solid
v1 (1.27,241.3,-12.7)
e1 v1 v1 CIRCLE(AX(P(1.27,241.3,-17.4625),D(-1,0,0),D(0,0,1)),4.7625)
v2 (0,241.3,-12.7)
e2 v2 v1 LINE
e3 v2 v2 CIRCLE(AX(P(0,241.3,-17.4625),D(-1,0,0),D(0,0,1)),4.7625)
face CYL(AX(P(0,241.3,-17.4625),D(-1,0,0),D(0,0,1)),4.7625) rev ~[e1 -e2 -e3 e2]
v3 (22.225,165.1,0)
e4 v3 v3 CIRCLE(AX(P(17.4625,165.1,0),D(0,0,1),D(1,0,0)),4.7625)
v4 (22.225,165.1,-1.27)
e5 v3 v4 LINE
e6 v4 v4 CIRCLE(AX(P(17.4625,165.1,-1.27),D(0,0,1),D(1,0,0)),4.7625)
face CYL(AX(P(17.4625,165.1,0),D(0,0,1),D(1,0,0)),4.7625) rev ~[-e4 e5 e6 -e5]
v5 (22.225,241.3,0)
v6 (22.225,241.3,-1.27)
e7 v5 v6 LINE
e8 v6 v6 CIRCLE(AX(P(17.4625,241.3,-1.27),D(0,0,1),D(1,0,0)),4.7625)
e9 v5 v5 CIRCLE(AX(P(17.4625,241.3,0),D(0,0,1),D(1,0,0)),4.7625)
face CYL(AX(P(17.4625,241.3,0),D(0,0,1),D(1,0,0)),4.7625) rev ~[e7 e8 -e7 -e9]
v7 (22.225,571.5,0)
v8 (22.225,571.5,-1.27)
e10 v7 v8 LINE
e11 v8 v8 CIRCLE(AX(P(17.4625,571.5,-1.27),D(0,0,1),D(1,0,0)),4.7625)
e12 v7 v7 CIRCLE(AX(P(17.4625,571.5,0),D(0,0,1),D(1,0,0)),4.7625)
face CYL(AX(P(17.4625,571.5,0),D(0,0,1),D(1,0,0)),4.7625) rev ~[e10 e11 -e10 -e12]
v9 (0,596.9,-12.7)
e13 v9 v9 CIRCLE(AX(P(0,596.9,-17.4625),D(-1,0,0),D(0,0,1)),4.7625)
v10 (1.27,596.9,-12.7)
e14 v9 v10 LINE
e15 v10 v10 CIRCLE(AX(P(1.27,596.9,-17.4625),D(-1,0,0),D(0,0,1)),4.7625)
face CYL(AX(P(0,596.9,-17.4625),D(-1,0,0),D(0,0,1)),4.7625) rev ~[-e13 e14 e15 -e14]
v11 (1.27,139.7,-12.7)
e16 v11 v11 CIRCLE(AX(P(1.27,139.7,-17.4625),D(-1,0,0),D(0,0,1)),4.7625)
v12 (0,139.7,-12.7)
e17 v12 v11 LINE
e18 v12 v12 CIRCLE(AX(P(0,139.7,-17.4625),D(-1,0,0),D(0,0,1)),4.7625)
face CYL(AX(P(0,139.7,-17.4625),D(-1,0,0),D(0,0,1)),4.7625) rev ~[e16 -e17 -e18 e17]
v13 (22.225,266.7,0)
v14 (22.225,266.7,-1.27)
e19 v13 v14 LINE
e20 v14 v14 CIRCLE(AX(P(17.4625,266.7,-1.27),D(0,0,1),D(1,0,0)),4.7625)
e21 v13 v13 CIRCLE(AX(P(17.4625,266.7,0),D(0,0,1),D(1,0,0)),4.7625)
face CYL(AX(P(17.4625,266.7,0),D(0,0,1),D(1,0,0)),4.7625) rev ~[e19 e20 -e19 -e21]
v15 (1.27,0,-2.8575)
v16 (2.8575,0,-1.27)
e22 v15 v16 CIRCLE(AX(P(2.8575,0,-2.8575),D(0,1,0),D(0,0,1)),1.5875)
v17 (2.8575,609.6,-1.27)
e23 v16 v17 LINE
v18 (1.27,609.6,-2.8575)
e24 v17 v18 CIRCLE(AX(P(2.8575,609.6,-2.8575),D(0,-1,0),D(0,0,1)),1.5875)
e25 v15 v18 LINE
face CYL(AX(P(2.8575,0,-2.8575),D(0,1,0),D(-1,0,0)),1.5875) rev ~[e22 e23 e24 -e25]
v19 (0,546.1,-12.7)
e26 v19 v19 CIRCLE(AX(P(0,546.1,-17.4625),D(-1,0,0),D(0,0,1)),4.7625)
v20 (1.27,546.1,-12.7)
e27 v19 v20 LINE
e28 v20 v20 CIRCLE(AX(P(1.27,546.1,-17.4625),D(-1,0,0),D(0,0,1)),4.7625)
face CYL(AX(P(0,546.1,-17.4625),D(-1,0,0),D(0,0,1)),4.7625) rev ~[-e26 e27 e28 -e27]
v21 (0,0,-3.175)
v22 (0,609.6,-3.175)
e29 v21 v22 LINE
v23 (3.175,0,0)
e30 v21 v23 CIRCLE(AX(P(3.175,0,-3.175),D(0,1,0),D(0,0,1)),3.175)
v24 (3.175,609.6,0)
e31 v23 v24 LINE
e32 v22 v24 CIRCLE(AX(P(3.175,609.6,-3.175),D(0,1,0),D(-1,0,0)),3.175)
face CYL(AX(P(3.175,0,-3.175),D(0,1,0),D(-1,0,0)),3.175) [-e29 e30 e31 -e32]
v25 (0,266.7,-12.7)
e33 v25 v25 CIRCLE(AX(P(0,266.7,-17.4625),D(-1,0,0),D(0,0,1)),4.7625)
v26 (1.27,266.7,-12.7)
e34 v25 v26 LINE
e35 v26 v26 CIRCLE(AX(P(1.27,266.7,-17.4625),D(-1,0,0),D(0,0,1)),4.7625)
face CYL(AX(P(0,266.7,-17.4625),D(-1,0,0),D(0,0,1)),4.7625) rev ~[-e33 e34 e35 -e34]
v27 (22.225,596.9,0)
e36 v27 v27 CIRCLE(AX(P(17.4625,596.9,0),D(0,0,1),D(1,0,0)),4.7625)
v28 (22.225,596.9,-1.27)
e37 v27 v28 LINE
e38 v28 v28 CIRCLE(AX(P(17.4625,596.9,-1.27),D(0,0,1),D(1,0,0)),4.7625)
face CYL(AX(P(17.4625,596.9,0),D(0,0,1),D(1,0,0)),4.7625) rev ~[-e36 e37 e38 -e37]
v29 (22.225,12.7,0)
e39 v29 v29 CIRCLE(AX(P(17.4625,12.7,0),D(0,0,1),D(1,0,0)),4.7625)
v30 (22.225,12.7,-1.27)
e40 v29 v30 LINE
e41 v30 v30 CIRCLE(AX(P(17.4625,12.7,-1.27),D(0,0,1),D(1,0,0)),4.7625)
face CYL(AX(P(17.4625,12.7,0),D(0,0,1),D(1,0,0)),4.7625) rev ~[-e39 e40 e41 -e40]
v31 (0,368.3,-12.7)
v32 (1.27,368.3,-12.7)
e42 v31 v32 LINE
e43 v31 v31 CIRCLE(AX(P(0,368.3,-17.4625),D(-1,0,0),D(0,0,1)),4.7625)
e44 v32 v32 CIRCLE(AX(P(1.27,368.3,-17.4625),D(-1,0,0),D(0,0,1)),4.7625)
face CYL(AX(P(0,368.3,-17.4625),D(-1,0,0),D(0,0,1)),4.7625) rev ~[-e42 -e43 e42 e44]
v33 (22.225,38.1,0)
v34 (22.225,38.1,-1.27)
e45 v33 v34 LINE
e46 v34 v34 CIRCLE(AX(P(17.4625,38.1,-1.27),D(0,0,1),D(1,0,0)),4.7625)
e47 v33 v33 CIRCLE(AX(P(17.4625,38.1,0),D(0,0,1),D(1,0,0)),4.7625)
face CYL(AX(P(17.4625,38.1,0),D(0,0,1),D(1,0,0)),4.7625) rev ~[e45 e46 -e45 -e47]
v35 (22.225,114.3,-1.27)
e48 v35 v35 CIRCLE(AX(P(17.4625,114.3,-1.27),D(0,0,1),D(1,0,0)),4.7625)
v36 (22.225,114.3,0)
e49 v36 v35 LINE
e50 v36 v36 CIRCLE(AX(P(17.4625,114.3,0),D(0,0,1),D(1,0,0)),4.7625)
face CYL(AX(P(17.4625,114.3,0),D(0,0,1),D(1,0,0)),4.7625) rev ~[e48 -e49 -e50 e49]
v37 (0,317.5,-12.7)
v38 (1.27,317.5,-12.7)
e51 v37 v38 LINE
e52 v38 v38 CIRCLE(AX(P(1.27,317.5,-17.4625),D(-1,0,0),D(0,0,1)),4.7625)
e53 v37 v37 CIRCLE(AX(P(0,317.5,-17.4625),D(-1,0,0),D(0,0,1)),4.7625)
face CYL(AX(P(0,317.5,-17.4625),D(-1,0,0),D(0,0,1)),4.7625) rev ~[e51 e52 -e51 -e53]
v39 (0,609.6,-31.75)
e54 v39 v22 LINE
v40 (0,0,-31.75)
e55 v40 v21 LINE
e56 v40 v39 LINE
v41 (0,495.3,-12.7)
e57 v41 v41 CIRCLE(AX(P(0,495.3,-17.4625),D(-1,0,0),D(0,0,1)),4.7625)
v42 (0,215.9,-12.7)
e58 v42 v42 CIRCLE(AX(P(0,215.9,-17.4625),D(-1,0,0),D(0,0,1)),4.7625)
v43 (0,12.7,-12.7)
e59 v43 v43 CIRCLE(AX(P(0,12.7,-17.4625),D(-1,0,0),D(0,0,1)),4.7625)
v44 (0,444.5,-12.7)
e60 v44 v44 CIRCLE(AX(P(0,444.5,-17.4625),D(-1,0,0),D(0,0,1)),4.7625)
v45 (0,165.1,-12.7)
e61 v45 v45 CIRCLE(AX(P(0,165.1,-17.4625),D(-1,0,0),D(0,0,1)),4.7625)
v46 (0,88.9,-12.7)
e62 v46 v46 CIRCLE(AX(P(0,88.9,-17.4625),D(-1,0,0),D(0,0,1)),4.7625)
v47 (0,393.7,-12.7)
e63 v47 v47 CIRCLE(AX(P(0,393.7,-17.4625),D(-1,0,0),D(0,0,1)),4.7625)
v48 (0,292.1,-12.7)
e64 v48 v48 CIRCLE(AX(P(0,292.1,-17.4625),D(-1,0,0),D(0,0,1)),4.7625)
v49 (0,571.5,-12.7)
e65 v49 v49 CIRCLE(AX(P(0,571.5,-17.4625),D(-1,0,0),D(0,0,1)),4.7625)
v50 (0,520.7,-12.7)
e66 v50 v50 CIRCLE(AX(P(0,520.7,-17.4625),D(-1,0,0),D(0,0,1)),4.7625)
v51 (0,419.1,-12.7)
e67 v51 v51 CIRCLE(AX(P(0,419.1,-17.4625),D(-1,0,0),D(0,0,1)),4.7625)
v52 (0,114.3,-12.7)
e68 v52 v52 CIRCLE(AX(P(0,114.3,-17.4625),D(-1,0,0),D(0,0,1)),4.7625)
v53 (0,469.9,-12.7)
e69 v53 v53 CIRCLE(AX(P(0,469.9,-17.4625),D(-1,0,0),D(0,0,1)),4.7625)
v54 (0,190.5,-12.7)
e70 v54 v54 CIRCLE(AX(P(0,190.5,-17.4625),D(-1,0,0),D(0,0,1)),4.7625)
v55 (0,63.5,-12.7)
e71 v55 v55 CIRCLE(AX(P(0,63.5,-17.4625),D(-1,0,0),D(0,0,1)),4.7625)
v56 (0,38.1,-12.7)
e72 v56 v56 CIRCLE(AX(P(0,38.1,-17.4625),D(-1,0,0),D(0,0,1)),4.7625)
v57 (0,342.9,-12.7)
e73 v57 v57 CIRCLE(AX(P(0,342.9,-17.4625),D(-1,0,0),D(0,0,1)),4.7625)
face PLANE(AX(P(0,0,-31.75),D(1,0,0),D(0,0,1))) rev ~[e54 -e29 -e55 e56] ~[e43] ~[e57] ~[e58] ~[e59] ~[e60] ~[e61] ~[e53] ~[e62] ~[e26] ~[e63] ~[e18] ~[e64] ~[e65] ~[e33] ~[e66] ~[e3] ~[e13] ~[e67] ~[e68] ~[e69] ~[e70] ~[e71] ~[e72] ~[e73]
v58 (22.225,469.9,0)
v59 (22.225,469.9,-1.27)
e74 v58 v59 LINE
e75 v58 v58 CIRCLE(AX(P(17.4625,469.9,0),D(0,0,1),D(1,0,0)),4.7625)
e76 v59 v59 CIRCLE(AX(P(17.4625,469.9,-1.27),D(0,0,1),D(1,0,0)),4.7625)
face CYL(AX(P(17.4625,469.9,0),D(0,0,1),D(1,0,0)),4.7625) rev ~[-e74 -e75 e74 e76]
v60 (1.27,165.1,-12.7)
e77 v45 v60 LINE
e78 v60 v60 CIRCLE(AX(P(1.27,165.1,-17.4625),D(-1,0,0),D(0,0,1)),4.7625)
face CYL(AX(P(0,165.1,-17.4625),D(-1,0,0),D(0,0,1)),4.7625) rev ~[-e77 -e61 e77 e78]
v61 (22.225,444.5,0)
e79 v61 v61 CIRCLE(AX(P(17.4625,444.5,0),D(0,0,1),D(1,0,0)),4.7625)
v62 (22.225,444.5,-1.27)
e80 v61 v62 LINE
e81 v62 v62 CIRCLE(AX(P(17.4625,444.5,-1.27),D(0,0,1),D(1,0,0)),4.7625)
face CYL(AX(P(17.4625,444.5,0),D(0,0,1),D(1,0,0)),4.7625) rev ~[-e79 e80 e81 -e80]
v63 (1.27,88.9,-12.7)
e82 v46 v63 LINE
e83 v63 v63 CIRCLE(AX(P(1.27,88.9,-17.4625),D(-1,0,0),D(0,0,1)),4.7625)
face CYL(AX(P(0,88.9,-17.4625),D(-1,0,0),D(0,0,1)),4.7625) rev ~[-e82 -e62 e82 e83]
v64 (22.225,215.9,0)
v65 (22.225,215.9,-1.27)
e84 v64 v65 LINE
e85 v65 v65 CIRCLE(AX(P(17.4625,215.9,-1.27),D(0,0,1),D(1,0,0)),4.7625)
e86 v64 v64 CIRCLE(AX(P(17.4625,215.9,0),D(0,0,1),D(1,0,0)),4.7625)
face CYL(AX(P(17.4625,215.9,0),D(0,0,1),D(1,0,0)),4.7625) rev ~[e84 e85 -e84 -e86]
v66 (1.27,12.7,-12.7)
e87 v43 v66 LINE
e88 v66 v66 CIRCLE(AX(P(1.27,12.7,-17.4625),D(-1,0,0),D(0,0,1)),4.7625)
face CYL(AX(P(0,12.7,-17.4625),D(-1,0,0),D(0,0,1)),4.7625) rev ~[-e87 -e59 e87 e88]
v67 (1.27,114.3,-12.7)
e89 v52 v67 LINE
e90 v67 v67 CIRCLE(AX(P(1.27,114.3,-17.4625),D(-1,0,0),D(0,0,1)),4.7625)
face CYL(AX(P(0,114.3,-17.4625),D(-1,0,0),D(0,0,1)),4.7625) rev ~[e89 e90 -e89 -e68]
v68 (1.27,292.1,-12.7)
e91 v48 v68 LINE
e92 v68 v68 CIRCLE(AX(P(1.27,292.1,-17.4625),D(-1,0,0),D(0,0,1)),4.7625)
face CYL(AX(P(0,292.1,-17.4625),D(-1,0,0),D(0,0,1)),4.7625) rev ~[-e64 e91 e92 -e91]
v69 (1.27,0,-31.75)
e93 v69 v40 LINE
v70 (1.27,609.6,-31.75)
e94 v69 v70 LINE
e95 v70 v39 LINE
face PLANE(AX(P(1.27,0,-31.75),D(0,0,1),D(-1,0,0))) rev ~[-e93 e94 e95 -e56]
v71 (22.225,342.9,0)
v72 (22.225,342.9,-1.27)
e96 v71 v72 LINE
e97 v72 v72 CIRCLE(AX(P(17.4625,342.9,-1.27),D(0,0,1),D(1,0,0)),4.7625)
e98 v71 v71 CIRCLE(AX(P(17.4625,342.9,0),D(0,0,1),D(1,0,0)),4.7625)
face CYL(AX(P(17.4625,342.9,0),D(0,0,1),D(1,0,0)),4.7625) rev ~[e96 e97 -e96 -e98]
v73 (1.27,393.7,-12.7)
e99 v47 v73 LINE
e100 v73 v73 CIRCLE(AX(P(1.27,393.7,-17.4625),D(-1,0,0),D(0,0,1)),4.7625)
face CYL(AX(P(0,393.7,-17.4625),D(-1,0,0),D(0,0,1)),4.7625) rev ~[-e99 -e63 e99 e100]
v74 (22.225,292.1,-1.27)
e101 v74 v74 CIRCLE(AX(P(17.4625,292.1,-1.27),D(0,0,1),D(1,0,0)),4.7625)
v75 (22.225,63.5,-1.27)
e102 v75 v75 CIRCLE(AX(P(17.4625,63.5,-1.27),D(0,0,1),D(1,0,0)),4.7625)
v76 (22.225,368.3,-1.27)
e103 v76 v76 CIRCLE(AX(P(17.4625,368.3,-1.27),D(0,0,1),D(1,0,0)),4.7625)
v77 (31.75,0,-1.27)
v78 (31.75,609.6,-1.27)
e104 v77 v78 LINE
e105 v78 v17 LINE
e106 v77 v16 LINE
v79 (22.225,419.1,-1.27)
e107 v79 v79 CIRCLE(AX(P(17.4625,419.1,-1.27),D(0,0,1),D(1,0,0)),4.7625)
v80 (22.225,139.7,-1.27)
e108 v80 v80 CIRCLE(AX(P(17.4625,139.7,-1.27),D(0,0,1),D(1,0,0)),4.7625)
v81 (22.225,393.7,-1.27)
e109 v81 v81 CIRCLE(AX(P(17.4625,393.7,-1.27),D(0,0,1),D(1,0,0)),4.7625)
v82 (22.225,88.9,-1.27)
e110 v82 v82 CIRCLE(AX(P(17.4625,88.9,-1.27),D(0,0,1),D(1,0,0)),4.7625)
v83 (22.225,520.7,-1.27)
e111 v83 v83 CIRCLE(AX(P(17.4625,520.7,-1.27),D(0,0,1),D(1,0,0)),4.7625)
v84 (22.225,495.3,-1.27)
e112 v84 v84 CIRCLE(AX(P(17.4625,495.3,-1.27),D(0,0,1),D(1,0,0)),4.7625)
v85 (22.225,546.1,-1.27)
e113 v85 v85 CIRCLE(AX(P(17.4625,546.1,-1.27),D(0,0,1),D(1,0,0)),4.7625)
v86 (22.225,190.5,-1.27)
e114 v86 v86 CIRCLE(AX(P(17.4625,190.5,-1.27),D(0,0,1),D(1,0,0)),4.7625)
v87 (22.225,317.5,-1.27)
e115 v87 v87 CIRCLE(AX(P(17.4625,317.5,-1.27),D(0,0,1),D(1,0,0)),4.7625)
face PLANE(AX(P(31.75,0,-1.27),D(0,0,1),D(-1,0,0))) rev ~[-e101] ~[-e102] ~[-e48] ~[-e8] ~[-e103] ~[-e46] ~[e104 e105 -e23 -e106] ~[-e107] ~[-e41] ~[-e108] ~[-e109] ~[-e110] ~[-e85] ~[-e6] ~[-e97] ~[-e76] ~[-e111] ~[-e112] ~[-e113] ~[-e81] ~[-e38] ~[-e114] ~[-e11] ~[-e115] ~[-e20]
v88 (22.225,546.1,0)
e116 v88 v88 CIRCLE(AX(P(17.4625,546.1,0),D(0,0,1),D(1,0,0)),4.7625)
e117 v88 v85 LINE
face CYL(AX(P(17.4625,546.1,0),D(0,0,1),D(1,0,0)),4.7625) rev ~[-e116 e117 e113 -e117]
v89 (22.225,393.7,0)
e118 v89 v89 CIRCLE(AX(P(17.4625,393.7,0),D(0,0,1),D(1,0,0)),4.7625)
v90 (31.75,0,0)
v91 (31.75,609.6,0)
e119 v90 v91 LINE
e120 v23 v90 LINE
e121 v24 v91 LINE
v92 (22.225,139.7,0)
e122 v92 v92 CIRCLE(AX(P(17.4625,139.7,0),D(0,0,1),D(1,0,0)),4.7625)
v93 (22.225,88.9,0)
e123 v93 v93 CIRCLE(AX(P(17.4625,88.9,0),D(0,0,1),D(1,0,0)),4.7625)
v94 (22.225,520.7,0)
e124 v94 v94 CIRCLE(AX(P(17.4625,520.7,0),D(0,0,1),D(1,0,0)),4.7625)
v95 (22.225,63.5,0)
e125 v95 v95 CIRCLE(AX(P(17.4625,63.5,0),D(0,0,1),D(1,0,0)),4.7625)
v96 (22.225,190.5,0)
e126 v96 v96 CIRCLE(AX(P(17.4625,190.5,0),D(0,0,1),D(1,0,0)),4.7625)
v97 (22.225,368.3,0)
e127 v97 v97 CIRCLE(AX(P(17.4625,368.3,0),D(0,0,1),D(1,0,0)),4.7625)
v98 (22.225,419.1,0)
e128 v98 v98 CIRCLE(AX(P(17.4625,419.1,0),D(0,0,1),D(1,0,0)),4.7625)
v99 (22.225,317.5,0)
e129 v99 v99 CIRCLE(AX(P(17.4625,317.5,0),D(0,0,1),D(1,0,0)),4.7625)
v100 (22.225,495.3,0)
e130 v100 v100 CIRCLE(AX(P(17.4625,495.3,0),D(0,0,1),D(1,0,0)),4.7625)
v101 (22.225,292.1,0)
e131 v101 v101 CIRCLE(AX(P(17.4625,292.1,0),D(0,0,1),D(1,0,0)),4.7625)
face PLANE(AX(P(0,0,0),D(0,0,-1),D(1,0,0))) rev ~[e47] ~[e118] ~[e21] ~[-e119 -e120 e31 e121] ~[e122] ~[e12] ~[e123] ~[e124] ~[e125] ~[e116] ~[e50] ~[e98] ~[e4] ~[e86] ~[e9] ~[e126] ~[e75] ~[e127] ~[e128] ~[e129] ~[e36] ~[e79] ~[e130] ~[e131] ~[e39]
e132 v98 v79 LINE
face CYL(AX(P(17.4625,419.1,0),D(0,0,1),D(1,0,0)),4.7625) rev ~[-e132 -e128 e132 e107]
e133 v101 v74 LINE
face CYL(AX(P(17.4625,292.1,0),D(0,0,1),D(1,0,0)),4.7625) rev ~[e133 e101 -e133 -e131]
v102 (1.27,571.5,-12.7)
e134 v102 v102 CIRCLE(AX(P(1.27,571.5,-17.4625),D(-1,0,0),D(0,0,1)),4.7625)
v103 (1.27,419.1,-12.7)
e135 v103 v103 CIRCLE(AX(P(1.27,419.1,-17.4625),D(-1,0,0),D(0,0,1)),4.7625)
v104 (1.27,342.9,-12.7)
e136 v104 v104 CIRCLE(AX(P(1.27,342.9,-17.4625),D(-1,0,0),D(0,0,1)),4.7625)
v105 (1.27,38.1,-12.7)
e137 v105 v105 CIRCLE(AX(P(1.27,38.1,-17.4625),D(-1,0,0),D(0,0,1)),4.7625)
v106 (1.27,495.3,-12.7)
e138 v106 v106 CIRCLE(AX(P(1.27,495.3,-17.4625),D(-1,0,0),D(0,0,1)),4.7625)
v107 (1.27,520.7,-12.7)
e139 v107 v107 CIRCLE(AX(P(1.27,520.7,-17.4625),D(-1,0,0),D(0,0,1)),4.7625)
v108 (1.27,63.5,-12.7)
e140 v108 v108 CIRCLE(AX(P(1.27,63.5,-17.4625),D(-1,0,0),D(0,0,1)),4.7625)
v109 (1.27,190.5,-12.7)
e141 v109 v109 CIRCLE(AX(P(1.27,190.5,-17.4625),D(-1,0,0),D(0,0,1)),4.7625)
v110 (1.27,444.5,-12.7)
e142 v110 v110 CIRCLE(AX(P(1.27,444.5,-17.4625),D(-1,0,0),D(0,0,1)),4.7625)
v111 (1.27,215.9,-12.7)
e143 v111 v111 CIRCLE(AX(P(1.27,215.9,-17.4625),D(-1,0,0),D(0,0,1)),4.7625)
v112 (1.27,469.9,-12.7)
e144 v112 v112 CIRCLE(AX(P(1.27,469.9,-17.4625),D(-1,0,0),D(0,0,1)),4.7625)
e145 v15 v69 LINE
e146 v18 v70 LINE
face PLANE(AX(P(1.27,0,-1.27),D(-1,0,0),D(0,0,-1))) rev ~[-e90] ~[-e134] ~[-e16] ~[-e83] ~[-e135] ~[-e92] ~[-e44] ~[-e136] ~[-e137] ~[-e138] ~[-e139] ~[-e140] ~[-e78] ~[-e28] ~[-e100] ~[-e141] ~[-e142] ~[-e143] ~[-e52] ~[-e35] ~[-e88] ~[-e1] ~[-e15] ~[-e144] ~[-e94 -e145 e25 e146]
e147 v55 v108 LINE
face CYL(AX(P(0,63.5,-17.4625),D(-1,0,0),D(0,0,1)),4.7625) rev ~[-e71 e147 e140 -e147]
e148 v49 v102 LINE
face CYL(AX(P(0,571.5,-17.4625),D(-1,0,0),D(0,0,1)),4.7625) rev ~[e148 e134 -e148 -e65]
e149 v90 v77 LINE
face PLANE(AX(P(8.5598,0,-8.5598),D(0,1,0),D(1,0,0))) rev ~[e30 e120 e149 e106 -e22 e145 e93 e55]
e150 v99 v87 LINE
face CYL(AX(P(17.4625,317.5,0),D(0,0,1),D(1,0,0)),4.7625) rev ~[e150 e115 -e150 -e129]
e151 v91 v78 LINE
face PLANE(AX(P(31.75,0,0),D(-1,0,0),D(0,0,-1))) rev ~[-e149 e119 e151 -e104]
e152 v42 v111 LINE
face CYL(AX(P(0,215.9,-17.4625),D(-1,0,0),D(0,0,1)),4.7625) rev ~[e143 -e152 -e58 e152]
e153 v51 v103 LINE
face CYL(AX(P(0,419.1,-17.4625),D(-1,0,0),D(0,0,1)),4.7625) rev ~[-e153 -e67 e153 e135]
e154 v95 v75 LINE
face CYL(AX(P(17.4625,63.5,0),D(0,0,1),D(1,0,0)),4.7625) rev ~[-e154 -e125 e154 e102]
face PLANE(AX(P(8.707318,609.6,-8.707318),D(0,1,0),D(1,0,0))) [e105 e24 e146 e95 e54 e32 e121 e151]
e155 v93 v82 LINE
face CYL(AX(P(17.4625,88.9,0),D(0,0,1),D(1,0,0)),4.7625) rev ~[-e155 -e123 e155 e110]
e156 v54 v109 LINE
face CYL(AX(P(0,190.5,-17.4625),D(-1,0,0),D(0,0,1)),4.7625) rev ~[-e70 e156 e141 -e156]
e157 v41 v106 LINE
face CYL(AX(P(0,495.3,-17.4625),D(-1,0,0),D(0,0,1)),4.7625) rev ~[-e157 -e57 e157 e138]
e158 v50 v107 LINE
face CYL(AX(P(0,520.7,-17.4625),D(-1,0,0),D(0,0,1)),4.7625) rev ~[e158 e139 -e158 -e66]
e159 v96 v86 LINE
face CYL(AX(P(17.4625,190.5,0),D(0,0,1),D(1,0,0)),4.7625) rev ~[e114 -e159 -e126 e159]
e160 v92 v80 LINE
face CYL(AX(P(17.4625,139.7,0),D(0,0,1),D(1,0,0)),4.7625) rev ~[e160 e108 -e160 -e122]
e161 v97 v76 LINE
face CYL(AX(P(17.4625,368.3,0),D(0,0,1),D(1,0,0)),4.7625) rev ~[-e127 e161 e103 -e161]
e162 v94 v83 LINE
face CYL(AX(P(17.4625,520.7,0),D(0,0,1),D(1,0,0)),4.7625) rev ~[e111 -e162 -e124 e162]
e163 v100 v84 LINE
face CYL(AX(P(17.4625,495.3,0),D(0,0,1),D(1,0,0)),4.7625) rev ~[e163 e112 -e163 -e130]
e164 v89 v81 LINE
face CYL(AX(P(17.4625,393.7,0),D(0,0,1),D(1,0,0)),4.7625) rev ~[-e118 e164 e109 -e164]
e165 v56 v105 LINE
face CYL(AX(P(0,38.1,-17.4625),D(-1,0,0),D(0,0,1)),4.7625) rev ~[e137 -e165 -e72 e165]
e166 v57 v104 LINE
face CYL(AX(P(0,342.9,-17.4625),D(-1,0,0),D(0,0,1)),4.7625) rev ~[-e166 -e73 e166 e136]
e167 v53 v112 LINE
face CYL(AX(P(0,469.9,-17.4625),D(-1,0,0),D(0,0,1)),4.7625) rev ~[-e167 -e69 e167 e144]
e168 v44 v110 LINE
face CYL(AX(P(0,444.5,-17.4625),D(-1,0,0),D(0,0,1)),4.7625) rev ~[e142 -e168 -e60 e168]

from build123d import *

# Parameters (mm, degrees)
BOSS_EXTRUDE1_DEPTH = 1219.2
SKETCH3_R           = 4.7625
CUT_EXTRUDE1_DEPTH  = 1.27
SKETCH4_R           = 4.7625
CUT_EXTRUDE2_DEPTH  = 1.27
FILLET1_R           = 3.175
FILLET2_R           = 1.5875
CUT_EXTRUDE3_DEPTH  = 609.6


with BuildPart() as part:
    # Sketch1 → Boss-Extrude1 (new body)
    with BuildSketch(Plane(origin=(0, 0, 0), x_dir=(1, 0, 0), z_dir=(0, 1, 0))):
        Polygon((1.27, 1.27), (1.27, 30.48), (1.27, 31.75), (0, 31.75), (0, 0), (31.75, 0), (31.75, 1.27), (30.48, 1.27), align=None)
    extrude(amount=BOSS_EXTRUDE1_DEPTH)

    # Sketch3 → Cut-Extrude1 (cut)
    with BuildSketch(Plane.ZY):
        with Locations((-17.4625, 12.7)):
            Circle(SKETCH3_R)
        with Locations((-17.4625, 38.1)):
            Circle(SKETCH3_R)
        with Locations((-17.4625, 63.5)):
            Circle(SKETCH3_R)
        with Locations((-17.4625, 88.9)):
            Circle(SKETCH3_R)
        with Locations((-17.4625, 114.3)):
            Circle(SKETCH3_R)
        with Locations((-17.4625, 139.7)):
            Circle(SKETCH3_R)
        with Locations((-17.4625, 165.1)):
            Circle(SKETCH3_R)
        with Locations((-17.4625, 190.5)):
            Circle(SKETCH3_R)
        with Locations((-17.4625, 215.9)):
            Circle(SKETCH3_R)
        with Locations((-17.4625, 241.3)):
            Circle(SKETCH3_R)
        with Locations((-17.4625, 266.7)):
            Circle(SKETCH3_R)
        with Locations((-17.4625, 292.1)):
            Circle(SKETCH3_R)
        with Locations((-17.4625, 317.5)):
            Circle(SKETCH3_R)
        with Locations((-17.4625, 342.9)):
            Circle(SKETCH3_R)
        with Locations((-17.4625, 368.3)):
            Circle(SKETCH3_R)
        with Locations((-17.4625, 393.7)):
            Circle(SKETCH3_R)
        with Locations((-17.4625, 419.1)):
            Circle(SKETCH3_R)
        with Locations((-17.4625, 444.5)):
            Circle(SKETCH3_R)
        with Locations((-17.4625, 469.9)):
            Circle(SKETCH3_R)
        with Locations((-17.4625, 495.3)):
            Circle(SKETCH3_R)
        with Locations((-17.4625, 520.7)):
            Circle(SKETCH3_R)
        with Locations((-17.4625, 546.1)):
            Circle(SKETCH3_R)
        with Locations((-17.4625, 571.5)):
            Circle(SKETCH3_R)
        with Locations((-17.4625, 596.9)):
            Circle(SKETCH3_R)
        with Locations((-17.4625, 622.3)):
            Circle(SKETCH3_R)
        with Locations((-17.4625, 647.7)):
            Circle(SKETCH3_R)
        with Locations((-17.4625, 673.1)):
            Circle(SKETCH3_R)
        with Locations((-17.4625, 698.5)):
            Circle(SKETCH3_R)
        with Locations((-17.4625, 723.9)):
            Circle(SKETCH3_R)
        with Locations((-17.4625, 749.3)):
            Circle(SKETCH3_R)
        with Locations((-17.4625, 774.7)):
            Circle(SKETCH3_R)
        with Locations((-17.4625, 800.1)):
            Circle(SKETCH3_R)
        with Locations((-17.4625, 825.5)):
            Circle(SKETCH3_R)
        with Locations((-17.4625, 850.9)):
            Circle(SKETCH3_R)
        with Locations((-17.4625, 876.3)):
            Circle(SKETCH3_R)
        with Locations((-17.4625, 901.7)):
            Circle(SKETCH3_R)
        with Locations((-17.4625, 927.1)):
            Circle(SKETCH3_R)
        with Locations((-17.4625, 952.5)):
            Circle(SKETCH3_R)
        with Locations((-17.4625, 977.9)):
            Circle(SKETCH3_R)
        with Locations((-17.4625, 1003.3)):
            Circle(SKETCH3_R)
        with Locations((-17.4625, 1028.7)):
            Circle(SKETCH3_R)
        with Locations((-17.4625, 1054.1)):
            Circle(SKETCH3_R)
        with Locations((-17.4625, 1079.5)):
            Circle(SKETCH3_R)
        with Locations((-17.4625, 1104.9)):
            Circle(SKETCH3_R)
        with Locations((-17.4625, 1130.3)):
            Circle(SKETCH3_R)
        with Locations((-17.4625, 1155.7)):
            Circle(SKETCH3_R)
        with Locations((-17.4625, 1181.1)):
            Circle(SKETCH3_R)
        with Locations((-17.4625, 1206.5)):
            Circle(SKETCH3_R)
    extrude(amount=-CUT_EXTRUDE1_DEPTH, mode=Mode.SUBTRACT)

    # Sketch4 → Cut-Extrude2 (cut)
    with BuildSketch(Plane.XY):
        with Locations((17.4625, 1206.5)):
            Circle(SKETCH4_R)
        with Locations((17.4625, 1181.1)):
            Circle(SKETCH4_R)
        with Locations((17.4625, 1155.7)):
            Circle(SKETCH4_R)
        with Locations((17.4625, 1130.3)):
            Circle(SKETCH4_R)
        with Locations((17.4625, 1104.9)):
            Circle(SKETCH4_R)
        with Locations((17.4625, 1079.5)):
            Circle(SKETCH4_R)
        with Locations((17.4625, 1054.1)):
            Circle(SKETCH4_R)
        with Locations((17.4625, 1028.7)):
            Circle(SKETCH4_R)
        with Locations((17.4625, 1003.3)):
            Circle(SKETCH4_R)
        with Locations((17.4625, 977.9)):
            Circle(SKETCH4_R)
        with Locations((17.4625, 952.5)):
            Circle(SKETCH4_R)
        with Locations((17.4625, 927.1)):
            Circle(SKETCH4_R)
        with Locations((17.4625, 901.7)):
            Circle(SKETCH4_R)
        with Locations((17.4625, 876.3)):
            Circle(SKETCH4_R)
        with Locations((17.4625, 850.9)):
            Circle(SKETCH4_R)
        with Locations((17.4625, 825.5)):
            Circle(SKETCH4_R)
        with Locations((17.4625, 800.1)):
            Circle(SKETCH4_R)
        with Locations((17.4625, 774.7)):
            Circle(SKETCH4_R)
        with Locations((17.4625, 749.3)):
            Circle(SKETCH4_R)
        with Locations((17.4625, 723.9)):
            Circle(SKETCH4_R)
        with Locations((17.4625, 698.5)):
            Circle(SKETCH4_R)
        with Locations((17.4625, 673.1)):
            Circle(SKETCH4_R)
        with Locations((17.4625, 647.7)):
            Circle(SKETCH4_R)
        with Locations((17.4625, 622.3)):
            Circle(SKETCH4_R)
        with Locations((17.4625, 596.9)):
            Circle(SKETCH4_R)
        with Locations((17.4625, 571.5)):
            Circle(SKETCH4_R)
        with Locations((17.4625, 546.1)):
            Circle(SKETCH4_R)
        with Locations((17.4625, 520.7)):
            Circle(SKETCH4_R)
        with Locations((17.4625, 495.3)):
            Circle(SKETCH4_R)
        with Locations((17.4625, 469.9)):
            Circle(SKETCH4_R)
        with Locations((17.4625, 444.5)):
            Circle(SKETCH4_R)
        with Locations((17.4625, 419.1)):
            Circle(SKETCH4_R)
        with Locations((17.4625, 393.7)):
            Circle(SKETCH4_R)
        with Locations((17.4625, 368.3)):
            Circle(SKETCH4_R)
        with Locations((17.4625, 342.9)):
            Circle(SKETCH4_R)
        with Locations((17.4625, 317.5)):
            Circle(SKETCH4_R)
        with Locations((17.4625, 292.1)):
            Circle(SKETCH4_R)
        with Locations((17.4625, 266.7)):
            Circle(SKETCH4_R)
        with Locations((17.4625, 241.3)):
            Circle(SKETCH4_R)
        with Locations((17.4625, 215.9)):
            Circle(SKETCH4_R)
        with Locations((17.4625, 190.5)):
            Circle(SKETCH4_R)
        with Locations((17.4625, 165.1)):
            Circle(SKETCH4_R)
        with Locations((17.4625, 139.7)):
            Circle(SKETCH4_R)
        with Locations((17.4625, 114.3)):
            Circle(SKETCH4_R)
        with Locations((17.4625, 88.9)):
            Circle(SKETCH4_R)
        with Locations((17.4625, 63.5)):
            Circle(SKETCH4_R)
        with Locations((17.4625, 38.1)):
            Circle(SKETCH4_R)
        with Locations((17.4625, 12.7)):
            Circle(SKETCH4_R)
    extrude(amount=-CUT_EXTRUDE2_DEPTH, mode=Mode.SUBTRACT)

    # Fillet1
    fillet1_edges = [part.edges().sort_by_distance(p)[0] for p in [
        (0, 609.6, 0),
    ]]
    fillet(fillet1_edges, radius=FILLET1_R)

    # Fillet2
    fillet2_edges = [part.edges().sort_by_distance(p)[0] for p in [
        (1.27, 609.6, -1.27),
    ]]
    fillet(fillet2_edges, radius=FILLET2_R)

    # Sketch5 → Cut-Extrude3 (cut)
    with BuildSketch(Plane(origin=(0, 1219.2, 0), x_dir=(1, 0, 0), z_dir=(0, 1, 0))):
        with BuildLine():
            Line((0, 31.75), (0, 3.175))
            ThreePointArc((0, 3.175), (0.92993597, 0.92993597), (3.175, 0))
            Line((3.175, 0), (31.75, 0))
            Line((31.75, 0), (31.75, 1.27))
            Line((31.75, 1.27), (2.8575, 1.27))
            ThreePointArc((2.8575, 1.27), (1.734967985, 1.734967985), (1.27, 2.8575))
            Line((1.27, 2.8575), (1.27, 31.75))
            Line((1.27, 31.75), (0, 31.75))
        make_face()
    extrude(amount=-CUT_EXTRUDE3_DEPTH, mode=Mode.SUBTRACT)


solid = part.part
